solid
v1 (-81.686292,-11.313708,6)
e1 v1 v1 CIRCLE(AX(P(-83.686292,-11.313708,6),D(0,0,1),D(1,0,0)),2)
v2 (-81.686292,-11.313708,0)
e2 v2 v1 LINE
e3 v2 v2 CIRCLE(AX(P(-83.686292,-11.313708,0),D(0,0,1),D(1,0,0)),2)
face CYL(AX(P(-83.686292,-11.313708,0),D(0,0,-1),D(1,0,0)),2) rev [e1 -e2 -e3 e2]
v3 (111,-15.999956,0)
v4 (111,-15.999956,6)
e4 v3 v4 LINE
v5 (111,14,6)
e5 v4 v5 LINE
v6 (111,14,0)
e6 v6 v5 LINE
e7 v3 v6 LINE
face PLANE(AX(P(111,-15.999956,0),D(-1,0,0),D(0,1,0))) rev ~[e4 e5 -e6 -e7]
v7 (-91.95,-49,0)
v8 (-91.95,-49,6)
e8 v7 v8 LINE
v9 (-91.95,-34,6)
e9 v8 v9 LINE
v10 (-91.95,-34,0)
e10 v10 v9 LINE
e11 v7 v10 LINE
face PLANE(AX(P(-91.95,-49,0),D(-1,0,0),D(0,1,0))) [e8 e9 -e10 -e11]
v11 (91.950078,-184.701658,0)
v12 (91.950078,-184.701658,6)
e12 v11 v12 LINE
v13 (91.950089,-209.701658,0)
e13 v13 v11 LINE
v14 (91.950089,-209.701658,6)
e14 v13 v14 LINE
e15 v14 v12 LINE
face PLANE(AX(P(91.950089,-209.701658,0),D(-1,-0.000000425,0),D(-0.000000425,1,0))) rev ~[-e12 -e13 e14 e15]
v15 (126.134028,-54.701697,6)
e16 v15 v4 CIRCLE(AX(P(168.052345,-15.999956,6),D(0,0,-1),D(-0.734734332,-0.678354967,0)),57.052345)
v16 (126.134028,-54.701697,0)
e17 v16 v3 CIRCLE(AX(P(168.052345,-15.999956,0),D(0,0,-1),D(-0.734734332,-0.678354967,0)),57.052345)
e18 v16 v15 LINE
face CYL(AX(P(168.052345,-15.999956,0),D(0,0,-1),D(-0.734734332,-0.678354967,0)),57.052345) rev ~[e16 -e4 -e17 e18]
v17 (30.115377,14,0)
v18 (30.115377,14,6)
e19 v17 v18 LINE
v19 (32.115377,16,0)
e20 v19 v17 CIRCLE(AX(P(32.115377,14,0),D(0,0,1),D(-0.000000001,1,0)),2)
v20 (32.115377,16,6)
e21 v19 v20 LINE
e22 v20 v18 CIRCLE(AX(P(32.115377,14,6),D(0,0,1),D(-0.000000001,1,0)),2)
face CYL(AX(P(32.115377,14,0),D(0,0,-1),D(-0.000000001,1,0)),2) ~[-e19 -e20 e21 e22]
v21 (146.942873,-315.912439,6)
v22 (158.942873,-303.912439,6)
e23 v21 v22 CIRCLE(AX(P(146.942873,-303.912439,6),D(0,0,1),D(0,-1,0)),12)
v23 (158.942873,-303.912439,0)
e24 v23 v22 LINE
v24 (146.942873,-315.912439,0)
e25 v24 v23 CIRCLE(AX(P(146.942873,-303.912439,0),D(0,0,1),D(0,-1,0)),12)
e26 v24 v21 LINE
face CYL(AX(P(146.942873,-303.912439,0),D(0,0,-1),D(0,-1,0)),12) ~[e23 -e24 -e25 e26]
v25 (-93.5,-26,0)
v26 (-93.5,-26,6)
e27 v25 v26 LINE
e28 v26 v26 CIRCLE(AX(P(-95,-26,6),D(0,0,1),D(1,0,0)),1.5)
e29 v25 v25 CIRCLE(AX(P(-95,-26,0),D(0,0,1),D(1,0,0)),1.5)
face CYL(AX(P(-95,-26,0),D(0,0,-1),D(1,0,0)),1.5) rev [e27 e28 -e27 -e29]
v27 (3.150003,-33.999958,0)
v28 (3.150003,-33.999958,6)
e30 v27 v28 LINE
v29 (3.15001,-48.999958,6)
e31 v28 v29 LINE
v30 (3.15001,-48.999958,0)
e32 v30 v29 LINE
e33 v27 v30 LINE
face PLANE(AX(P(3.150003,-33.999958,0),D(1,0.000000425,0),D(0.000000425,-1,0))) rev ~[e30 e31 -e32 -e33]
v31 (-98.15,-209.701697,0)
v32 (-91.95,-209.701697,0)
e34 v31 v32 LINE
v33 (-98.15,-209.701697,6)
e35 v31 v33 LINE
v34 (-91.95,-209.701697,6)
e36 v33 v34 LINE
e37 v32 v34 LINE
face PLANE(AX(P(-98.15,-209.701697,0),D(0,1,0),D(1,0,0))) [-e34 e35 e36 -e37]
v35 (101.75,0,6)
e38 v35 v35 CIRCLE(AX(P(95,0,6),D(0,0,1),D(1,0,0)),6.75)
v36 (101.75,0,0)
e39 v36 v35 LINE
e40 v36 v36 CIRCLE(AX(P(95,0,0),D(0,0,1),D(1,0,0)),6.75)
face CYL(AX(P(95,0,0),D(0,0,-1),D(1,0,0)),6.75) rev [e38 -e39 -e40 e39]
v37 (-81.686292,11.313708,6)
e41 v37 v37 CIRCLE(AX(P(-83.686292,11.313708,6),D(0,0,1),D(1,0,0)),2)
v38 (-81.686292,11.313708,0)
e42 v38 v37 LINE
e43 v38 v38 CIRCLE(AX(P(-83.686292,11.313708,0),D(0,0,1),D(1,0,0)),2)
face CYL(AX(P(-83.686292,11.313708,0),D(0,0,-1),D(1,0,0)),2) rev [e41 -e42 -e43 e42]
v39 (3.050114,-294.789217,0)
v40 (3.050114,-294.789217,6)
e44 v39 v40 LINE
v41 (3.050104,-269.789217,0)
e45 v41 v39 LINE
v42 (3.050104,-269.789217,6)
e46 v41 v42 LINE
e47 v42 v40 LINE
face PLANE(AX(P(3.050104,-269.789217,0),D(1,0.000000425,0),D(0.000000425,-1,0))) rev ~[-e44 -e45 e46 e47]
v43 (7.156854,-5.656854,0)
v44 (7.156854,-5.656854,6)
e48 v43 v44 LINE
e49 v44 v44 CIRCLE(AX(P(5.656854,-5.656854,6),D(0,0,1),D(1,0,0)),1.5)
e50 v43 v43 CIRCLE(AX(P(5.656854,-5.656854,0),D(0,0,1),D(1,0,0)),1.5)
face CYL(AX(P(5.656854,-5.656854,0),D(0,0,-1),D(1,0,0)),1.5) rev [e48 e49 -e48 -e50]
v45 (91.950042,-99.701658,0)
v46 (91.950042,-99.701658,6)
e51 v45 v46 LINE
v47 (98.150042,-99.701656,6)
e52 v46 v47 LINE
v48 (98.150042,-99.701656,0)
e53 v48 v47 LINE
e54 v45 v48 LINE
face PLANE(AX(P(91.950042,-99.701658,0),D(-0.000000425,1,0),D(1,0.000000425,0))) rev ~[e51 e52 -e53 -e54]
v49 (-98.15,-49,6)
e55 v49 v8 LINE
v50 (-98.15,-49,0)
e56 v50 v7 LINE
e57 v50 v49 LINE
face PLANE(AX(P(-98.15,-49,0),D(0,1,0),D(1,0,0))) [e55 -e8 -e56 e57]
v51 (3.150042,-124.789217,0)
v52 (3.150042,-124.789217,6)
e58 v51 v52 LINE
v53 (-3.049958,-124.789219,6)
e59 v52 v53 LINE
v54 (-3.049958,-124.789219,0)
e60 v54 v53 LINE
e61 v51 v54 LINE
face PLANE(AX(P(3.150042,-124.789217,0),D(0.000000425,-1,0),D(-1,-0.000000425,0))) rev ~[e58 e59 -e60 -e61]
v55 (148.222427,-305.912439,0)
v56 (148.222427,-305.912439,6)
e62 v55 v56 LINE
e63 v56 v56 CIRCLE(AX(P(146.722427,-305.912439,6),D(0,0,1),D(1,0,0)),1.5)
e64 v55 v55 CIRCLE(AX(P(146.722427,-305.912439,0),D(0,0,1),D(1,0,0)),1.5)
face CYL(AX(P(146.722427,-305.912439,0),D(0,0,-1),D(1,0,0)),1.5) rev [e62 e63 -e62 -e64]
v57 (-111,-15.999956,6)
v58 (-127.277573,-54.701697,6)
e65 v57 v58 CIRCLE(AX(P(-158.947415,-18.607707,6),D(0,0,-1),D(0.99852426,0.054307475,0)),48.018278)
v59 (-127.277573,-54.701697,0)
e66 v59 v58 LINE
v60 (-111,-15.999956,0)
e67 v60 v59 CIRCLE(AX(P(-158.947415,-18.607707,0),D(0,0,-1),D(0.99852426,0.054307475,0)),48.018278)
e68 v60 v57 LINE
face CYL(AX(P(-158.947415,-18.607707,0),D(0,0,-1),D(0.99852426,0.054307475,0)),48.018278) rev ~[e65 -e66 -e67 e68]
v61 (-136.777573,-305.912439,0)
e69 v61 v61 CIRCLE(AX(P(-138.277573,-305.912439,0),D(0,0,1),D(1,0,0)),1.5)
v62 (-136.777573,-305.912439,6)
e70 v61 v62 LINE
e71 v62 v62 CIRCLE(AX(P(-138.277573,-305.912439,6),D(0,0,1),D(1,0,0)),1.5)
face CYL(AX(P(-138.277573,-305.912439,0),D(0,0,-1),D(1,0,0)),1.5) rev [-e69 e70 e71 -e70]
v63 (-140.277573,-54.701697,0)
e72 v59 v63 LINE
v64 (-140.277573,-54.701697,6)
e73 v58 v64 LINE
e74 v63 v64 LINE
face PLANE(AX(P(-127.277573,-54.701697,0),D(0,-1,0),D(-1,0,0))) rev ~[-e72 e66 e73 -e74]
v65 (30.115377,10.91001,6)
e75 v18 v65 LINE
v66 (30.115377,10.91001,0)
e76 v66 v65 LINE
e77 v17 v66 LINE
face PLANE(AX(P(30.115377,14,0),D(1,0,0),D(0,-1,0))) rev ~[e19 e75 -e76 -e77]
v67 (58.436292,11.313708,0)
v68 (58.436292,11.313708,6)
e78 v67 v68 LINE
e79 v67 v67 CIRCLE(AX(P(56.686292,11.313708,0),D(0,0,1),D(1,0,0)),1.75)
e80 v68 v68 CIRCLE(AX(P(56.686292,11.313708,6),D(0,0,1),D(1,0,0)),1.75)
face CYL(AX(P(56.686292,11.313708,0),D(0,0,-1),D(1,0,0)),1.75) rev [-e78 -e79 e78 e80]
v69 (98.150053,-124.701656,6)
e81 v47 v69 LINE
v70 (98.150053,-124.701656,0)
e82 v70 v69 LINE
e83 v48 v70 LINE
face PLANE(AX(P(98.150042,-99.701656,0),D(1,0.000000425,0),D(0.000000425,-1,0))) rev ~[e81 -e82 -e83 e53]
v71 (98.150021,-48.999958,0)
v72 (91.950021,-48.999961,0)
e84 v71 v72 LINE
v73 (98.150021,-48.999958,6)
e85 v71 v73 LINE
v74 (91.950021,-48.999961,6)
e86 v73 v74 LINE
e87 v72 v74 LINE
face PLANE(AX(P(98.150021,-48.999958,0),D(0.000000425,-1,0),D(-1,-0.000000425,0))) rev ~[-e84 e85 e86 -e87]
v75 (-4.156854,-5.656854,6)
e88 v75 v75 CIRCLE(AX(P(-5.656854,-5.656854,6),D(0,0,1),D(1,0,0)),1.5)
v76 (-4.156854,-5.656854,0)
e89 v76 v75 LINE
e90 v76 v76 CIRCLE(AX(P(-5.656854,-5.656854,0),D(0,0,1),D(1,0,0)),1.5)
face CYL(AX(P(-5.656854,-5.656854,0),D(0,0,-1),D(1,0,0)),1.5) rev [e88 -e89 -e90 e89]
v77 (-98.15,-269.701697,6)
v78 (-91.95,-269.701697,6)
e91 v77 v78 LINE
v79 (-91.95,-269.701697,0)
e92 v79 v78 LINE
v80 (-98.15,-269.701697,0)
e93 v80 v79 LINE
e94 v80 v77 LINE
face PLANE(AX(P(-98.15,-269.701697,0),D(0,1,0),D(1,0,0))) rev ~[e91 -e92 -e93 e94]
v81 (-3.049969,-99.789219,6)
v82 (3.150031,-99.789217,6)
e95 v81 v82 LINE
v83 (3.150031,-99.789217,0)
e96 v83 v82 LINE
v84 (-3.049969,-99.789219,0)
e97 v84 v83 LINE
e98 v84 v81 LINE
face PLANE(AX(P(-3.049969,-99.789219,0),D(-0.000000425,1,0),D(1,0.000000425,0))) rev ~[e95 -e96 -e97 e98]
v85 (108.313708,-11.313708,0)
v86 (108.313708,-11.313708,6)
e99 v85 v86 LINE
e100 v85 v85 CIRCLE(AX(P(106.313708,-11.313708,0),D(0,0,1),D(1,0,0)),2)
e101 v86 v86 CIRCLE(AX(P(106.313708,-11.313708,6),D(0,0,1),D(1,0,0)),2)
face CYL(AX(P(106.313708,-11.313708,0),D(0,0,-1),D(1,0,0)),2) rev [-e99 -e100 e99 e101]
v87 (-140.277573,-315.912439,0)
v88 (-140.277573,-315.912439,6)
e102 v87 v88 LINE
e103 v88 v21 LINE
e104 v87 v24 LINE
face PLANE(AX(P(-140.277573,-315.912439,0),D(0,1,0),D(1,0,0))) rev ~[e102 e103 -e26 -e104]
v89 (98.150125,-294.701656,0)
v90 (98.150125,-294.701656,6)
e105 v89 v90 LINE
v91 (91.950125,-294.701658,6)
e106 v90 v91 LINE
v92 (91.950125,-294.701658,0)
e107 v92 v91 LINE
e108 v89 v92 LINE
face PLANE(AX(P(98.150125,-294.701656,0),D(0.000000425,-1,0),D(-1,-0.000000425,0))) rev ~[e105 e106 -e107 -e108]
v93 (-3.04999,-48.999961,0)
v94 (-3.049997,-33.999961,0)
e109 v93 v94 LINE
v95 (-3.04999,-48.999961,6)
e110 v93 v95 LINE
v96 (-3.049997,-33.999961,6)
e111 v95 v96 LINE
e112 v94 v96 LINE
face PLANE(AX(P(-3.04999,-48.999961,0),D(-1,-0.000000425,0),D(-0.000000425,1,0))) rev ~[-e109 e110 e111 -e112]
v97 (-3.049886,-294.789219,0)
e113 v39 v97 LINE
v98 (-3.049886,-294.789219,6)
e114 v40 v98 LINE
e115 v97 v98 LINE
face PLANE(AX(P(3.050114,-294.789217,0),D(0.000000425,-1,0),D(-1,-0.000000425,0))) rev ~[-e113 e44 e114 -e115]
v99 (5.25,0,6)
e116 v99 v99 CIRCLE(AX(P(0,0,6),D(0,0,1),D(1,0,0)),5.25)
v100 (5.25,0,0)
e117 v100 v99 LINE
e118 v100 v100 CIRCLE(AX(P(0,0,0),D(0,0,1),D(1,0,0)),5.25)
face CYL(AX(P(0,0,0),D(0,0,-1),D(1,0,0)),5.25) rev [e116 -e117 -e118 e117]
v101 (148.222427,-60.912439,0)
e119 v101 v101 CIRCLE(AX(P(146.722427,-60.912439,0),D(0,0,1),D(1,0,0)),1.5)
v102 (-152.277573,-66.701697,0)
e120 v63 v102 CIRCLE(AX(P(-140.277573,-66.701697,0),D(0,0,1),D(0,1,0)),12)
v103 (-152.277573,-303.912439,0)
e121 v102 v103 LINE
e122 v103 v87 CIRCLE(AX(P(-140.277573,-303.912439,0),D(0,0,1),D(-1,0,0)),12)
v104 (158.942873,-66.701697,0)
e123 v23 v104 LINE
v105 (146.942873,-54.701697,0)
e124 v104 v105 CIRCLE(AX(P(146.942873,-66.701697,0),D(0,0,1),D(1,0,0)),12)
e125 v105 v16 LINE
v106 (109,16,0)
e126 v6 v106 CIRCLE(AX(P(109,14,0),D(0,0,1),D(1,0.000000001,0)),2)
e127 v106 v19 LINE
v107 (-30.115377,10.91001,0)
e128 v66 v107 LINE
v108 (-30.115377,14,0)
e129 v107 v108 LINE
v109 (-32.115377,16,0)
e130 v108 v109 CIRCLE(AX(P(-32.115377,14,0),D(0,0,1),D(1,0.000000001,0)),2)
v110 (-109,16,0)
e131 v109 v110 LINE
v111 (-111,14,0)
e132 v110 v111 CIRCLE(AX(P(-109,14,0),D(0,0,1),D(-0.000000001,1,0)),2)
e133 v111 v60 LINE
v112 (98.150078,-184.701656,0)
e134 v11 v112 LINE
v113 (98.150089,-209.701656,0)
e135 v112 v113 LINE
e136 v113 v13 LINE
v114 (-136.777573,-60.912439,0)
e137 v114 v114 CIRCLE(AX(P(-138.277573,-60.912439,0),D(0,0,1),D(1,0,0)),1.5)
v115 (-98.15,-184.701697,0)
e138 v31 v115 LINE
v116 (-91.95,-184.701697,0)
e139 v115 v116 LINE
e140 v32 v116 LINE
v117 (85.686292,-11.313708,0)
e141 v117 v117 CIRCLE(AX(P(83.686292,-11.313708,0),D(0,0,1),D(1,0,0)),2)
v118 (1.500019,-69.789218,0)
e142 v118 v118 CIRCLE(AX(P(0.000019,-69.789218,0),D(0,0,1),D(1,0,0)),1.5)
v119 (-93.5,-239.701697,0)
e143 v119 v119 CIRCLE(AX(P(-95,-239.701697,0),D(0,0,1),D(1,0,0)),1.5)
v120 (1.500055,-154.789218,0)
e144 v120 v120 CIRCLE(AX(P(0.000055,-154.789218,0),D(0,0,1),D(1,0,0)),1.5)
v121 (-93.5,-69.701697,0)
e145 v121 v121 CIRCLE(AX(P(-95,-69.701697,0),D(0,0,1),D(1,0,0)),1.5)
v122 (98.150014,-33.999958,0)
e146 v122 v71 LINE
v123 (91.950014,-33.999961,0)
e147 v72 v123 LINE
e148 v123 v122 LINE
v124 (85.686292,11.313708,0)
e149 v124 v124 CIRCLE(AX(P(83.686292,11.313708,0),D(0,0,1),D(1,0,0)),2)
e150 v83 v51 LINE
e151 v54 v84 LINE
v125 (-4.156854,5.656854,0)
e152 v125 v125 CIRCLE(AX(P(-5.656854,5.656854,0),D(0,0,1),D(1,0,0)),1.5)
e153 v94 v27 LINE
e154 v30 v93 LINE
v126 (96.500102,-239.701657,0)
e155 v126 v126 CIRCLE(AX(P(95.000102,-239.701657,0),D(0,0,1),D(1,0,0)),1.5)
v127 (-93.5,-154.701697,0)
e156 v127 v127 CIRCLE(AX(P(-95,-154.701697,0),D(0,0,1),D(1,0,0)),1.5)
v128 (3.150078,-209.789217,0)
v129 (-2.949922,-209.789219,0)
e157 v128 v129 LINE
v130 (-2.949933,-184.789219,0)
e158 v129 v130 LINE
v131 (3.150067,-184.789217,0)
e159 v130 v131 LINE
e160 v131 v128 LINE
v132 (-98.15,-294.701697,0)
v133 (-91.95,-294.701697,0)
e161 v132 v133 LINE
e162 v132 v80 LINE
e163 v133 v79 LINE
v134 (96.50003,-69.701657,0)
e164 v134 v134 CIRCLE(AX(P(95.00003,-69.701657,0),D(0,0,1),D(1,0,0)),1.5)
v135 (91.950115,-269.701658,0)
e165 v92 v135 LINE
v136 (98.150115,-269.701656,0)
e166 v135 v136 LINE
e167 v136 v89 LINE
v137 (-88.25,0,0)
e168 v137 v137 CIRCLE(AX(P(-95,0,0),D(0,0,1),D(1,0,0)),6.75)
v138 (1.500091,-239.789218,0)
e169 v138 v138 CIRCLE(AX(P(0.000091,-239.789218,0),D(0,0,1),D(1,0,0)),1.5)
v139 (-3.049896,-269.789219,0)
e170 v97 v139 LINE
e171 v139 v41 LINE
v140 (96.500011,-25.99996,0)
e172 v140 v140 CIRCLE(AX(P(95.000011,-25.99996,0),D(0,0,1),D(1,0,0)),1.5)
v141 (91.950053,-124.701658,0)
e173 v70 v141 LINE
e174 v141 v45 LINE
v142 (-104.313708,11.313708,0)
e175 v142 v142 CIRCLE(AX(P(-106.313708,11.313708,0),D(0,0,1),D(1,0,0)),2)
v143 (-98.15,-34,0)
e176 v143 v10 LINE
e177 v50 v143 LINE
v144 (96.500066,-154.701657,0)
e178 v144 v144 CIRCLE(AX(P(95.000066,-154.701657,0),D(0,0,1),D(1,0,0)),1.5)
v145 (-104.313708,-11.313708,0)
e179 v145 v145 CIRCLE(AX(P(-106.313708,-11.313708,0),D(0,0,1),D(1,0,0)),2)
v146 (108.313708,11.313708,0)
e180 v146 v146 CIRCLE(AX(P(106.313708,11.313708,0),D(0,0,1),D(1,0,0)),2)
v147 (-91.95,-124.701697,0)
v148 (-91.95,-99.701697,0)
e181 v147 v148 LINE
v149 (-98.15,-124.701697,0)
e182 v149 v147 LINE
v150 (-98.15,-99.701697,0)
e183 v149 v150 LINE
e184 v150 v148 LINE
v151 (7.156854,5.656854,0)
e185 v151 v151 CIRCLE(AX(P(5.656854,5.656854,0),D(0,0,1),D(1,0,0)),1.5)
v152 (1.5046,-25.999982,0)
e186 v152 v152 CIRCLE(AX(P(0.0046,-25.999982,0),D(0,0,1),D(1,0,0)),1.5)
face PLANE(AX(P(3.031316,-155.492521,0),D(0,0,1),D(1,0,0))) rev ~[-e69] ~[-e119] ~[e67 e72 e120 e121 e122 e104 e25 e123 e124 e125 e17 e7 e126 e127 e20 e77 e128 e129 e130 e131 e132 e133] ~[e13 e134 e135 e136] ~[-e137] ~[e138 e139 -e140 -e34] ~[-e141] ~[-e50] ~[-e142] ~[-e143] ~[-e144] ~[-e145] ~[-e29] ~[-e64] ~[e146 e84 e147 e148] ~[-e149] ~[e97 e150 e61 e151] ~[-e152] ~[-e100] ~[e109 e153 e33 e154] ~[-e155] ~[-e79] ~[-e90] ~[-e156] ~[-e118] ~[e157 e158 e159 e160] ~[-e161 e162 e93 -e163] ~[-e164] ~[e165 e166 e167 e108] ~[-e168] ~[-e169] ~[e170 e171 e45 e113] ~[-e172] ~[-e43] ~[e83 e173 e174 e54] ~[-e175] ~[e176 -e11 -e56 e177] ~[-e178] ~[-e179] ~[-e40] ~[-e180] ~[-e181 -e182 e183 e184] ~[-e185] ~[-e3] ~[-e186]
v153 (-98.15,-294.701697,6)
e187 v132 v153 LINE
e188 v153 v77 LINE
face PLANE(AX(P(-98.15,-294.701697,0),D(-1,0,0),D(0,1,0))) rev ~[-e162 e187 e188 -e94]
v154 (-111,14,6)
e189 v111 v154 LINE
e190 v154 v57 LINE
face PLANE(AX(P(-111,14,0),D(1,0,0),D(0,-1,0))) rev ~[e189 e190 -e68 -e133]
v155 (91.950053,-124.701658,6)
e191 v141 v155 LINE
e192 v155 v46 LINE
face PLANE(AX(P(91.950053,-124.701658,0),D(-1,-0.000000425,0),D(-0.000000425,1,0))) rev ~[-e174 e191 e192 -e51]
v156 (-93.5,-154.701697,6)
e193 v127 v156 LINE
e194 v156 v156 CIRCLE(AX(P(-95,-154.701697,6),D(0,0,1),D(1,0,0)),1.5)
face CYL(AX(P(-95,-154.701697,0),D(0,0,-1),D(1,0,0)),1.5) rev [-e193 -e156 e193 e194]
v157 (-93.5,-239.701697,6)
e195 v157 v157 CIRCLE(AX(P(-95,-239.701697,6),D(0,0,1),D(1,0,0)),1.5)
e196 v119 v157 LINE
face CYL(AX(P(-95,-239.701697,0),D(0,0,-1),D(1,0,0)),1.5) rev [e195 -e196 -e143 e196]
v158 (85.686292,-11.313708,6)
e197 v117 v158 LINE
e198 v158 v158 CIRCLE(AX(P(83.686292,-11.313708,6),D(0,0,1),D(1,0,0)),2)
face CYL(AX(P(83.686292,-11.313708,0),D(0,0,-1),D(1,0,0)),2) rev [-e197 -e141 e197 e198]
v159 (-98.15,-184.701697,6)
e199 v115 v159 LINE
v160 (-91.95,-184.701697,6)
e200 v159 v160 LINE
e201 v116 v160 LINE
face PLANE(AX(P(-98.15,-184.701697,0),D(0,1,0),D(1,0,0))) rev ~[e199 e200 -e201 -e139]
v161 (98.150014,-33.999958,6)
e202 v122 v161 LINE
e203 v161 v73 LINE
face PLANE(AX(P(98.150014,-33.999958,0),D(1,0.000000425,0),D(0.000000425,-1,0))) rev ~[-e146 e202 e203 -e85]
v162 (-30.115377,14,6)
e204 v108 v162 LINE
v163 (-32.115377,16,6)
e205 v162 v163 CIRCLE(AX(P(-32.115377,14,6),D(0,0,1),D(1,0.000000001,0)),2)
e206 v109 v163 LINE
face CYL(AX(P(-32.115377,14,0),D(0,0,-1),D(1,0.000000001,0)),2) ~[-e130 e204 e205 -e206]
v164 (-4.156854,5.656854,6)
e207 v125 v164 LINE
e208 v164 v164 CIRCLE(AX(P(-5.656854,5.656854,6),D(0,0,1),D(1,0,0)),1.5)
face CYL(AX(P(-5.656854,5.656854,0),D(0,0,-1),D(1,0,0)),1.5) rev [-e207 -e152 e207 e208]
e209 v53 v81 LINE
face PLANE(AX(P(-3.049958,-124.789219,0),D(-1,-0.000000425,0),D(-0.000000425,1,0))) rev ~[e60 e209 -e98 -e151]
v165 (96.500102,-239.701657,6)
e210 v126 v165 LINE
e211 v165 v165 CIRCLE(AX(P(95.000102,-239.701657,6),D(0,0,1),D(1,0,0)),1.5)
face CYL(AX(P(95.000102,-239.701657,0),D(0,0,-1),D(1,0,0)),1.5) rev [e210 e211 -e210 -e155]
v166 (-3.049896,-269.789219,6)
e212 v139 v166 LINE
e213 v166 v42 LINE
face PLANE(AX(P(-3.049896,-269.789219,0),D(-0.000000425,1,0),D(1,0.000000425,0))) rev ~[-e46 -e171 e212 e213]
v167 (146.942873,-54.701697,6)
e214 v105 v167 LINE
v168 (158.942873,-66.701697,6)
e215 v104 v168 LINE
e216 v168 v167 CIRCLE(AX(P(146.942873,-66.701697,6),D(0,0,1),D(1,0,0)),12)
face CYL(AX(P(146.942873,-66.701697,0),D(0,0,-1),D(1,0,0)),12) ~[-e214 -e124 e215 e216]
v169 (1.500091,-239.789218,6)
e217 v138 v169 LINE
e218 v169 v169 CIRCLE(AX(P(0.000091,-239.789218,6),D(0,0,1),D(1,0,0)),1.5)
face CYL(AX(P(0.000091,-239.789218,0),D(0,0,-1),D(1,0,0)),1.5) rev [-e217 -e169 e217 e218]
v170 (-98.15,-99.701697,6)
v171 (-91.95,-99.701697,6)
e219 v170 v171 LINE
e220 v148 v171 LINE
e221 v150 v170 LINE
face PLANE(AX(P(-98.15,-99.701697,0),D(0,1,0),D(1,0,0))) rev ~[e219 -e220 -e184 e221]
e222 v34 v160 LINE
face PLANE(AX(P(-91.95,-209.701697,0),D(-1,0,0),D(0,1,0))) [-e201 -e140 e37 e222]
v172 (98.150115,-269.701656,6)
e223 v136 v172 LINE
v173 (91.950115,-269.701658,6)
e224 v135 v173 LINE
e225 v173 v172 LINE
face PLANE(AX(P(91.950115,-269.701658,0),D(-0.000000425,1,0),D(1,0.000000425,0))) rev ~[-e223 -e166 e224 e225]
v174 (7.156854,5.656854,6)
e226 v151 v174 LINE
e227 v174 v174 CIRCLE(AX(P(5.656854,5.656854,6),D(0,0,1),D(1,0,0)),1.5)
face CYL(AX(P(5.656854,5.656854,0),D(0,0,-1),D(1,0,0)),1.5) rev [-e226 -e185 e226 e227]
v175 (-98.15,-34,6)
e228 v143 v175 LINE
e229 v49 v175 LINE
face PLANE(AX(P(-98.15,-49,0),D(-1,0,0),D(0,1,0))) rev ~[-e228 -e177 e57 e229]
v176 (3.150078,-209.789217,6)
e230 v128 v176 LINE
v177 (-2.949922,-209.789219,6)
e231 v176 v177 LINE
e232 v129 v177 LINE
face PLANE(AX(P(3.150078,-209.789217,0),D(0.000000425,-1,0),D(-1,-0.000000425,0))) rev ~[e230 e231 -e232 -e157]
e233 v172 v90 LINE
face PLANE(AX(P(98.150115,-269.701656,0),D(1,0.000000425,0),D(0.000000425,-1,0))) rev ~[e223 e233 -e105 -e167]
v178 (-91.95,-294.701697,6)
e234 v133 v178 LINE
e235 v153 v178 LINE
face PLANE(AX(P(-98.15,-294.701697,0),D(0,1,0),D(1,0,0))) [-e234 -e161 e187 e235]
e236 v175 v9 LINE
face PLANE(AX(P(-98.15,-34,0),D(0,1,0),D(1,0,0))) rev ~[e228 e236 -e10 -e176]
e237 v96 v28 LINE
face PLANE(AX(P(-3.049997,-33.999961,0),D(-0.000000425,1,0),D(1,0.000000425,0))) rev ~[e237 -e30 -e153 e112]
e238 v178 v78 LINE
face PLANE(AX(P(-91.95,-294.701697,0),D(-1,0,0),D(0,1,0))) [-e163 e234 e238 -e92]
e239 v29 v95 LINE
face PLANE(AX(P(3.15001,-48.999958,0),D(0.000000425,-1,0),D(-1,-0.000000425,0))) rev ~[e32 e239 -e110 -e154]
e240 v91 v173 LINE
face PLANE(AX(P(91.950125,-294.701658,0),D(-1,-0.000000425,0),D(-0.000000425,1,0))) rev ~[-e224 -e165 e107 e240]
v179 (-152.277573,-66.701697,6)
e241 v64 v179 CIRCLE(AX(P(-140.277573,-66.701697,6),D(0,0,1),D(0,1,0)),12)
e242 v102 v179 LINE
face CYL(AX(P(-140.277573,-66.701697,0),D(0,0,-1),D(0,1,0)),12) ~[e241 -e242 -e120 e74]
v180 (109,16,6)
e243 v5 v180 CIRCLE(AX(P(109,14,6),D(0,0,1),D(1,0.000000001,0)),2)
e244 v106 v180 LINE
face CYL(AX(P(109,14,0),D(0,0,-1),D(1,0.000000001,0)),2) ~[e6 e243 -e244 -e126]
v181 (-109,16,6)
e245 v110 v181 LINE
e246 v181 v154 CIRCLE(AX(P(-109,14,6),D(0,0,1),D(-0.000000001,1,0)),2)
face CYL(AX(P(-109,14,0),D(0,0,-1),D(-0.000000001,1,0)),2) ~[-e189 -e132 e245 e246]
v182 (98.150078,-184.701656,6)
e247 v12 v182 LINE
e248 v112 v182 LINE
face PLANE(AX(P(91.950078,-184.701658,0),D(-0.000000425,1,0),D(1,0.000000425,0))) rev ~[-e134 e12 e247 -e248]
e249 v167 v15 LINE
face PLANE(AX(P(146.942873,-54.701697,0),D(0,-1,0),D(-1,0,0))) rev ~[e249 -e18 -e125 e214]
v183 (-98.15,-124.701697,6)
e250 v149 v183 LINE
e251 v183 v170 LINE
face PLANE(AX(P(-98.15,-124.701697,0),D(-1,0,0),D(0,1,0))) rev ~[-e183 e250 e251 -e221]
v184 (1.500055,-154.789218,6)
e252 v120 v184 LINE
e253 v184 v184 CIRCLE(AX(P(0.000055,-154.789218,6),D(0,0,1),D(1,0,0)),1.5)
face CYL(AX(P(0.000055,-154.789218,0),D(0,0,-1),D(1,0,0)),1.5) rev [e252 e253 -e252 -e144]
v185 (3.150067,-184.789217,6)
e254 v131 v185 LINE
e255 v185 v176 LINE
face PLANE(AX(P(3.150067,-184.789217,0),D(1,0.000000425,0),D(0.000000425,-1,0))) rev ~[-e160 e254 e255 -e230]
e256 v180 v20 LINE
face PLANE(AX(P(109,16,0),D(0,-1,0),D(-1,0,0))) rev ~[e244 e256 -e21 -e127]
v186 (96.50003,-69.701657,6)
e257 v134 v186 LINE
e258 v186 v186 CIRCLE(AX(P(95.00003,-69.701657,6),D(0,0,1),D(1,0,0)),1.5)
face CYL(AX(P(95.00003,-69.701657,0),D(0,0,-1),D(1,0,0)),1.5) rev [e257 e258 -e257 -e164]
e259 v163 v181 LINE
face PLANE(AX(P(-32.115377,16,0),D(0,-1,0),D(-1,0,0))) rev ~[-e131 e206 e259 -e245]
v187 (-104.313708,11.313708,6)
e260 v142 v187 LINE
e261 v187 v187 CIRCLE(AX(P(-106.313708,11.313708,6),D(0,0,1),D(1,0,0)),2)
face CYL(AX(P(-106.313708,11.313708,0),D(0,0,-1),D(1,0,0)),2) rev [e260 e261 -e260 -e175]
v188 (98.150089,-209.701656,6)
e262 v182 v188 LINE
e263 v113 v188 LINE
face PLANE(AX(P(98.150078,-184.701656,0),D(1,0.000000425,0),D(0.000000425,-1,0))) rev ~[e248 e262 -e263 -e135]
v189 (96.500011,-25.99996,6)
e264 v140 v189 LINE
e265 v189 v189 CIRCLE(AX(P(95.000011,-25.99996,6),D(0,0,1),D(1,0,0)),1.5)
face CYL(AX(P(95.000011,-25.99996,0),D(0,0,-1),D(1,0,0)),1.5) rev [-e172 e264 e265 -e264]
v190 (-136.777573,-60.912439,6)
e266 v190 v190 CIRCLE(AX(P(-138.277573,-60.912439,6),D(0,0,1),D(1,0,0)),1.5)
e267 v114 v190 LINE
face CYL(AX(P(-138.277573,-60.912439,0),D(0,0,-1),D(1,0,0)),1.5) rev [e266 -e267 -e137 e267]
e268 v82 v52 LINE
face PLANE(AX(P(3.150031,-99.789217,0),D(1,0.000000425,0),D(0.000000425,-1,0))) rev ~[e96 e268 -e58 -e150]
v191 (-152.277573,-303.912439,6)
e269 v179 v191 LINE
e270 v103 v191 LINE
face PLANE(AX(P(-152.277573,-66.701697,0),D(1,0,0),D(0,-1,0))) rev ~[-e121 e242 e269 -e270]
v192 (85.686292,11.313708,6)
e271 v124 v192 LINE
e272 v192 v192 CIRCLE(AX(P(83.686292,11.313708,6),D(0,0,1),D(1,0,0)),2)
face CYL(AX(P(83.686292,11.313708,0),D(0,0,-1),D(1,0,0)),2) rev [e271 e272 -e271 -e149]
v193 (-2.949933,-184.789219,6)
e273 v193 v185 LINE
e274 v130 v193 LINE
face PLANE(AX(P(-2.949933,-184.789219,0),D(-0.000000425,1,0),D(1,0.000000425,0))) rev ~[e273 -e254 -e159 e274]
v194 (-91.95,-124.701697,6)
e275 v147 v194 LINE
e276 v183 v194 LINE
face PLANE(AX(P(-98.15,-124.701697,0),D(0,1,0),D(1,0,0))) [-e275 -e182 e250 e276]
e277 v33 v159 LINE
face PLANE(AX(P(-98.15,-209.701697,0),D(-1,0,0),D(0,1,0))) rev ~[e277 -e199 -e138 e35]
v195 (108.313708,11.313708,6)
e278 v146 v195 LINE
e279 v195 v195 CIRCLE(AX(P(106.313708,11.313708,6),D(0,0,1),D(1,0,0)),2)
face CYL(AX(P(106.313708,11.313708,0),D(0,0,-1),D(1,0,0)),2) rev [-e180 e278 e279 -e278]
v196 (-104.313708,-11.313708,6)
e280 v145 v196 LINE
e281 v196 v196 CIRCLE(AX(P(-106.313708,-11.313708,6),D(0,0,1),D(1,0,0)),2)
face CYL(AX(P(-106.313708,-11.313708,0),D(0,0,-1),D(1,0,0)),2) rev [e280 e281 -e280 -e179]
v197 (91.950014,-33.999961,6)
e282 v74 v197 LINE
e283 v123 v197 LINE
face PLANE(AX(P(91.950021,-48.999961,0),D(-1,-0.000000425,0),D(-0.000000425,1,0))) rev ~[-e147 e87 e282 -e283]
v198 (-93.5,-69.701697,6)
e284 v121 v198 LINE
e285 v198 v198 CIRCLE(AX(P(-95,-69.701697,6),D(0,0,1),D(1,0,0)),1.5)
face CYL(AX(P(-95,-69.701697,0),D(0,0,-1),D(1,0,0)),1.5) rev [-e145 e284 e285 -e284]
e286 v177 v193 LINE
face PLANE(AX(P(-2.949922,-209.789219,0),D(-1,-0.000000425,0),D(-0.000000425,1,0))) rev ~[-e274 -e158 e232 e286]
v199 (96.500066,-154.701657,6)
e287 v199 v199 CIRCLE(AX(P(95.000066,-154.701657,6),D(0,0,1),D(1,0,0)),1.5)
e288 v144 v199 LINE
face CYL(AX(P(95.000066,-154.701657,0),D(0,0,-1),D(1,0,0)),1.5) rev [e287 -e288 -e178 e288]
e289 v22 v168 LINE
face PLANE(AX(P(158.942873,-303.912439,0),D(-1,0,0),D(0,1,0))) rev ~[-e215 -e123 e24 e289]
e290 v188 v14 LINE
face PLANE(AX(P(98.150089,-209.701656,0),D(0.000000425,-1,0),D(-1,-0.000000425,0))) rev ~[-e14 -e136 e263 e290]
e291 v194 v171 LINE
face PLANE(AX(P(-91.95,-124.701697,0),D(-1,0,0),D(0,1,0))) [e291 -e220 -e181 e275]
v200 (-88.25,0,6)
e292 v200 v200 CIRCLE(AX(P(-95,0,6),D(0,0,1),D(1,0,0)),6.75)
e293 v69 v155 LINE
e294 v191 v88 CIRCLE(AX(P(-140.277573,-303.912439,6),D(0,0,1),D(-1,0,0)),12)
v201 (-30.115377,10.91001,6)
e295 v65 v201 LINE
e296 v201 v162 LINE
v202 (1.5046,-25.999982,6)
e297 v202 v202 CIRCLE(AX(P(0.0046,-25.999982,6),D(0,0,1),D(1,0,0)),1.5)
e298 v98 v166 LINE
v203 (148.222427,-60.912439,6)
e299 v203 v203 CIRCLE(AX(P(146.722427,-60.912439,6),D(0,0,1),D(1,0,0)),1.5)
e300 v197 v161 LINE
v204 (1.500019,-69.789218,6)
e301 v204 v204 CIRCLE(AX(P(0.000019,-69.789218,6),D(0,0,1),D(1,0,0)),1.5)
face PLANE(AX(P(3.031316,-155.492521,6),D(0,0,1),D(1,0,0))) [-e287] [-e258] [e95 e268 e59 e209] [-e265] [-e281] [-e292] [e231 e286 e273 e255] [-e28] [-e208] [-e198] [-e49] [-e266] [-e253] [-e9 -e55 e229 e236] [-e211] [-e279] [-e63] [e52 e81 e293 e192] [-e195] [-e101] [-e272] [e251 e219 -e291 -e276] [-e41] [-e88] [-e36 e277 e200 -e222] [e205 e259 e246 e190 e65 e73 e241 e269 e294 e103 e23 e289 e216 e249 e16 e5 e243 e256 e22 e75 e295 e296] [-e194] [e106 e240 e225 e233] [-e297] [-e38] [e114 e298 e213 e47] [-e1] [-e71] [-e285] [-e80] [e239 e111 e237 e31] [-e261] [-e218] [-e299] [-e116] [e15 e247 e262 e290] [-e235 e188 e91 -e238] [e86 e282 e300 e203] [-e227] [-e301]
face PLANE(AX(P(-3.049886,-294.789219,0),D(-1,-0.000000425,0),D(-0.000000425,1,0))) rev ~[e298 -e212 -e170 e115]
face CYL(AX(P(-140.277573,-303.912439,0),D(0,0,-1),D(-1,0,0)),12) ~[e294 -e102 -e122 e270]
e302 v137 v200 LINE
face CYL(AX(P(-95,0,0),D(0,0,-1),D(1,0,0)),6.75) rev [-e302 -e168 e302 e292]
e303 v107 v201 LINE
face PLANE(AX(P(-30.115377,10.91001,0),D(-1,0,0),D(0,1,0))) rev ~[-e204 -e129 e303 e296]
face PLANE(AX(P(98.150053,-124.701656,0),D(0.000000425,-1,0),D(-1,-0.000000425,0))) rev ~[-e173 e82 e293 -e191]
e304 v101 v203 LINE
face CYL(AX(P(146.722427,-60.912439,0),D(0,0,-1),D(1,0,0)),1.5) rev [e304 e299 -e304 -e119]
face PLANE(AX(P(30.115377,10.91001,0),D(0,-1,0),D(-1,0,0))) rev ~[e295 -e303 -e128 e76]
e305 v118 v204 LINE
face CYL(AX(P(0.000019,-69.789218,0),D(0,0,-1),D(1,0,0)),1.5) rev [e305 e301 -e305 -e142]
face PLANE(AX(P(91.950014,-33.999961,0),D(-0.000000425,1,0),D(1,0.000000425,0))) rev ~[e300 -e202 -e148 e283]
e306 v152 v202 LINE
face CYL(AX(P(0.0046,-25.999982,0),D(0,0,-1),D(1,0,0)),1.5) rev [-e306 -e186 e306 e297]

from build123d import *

# Parameters (mm, degrees)
CROQUIS1_R              = 1.5
CROQUIS1_W              = 6.2
CROQUIS1_H              = 25
CROQUIS1_H_2            = 15
CROQUIS1_R_2            = 2
CROQUIS1_R_3            = 6.75
CROQUIS1_R_4            = 5.25
CROQUIS1_R_5            = 1.75
SALIENTE_EXTRUIR1_DEPTH = 6


with BuildPart() as part:
    # Croquis1 → Saliente-Extruir1 (new body)
    with BuildSketch(Plane.XY):
        with BuildLine():
            Line((87.635637669, 16), (32.115377174, 16))
            ThreePointArc((32.115377174, 16), (30.701163612, 15.414213562), (30.115377174, 14))
            Line((30.115377174, 14), (30.115377174, 10.910010016))
            Line((30.115377174, 10.910010016), (-30.115377174, 10.910010016))
            Line((-30.115377174, 10.910010016), (-30.115377174, 14))
            ThreePointArc((-30.115377174, 14), (-30.701163612, 15.414213562), (-32.115377174, 16))
            Line((-32.115377174, 16), (-44.664398505, 16))
            Line((-44.664398505, 16), (-87.635637669, 16))
            Line((-87.635637669, 16), (-109, 16))
            ThreePointArc((-109, 16), (-110.414213562, 15.414213562), (-111, 14))
            Line((-111, 14), (-111, 0))
            Line((-111, 0), (-111, -15.999955929))
            ThreePointArc((-111, -15.999955929), (-114.684754838, -37.224148725), (-127.277573278, -54.701697231))
            Line((-127.277573278, -54.701697231), (-135.277573278, -54.701697231))
            Line((-135.277573278, -54.701697231), (-140.277573278, -54.701697231))
            ThreePointArc((-140.277573278, -54.701697231), (-148.762854653, -58.216415857), (-152.277573278, -66.701697231))
            Line((-152.277573278, -66.701697231), (-152.277573278, -303.912438798))
            ThreePointArc((-152.277573278, -303.912438798), (-148.762854653, -312.397720172), (-140.277573278, -315.912438798))
            Line((-140.277573278, -315.912438798), (-135.277573278, -315.912438798))
            Line((-135.277573278, -315.912438798), (-119.364295205, -315.912438798))
            Line((-119.364295205, -315.912438798), (119.364429455, -315.912438798))
            Line((119.364429455, -315.912438798), (130.295105026, -315.912438798))
            Line((130.295105026, -315.912438798), (146.942872896, -315.912438798))
            ThreePointArc((146.942872896, -315.912438798), (155.42815427, -312.397720172), (158.942872896, -303.912438798))
            Line((158.942872896, -303.912438798), (158.942872896, -70.770984471))
            Line((158.942872896, -70.770984471), (158.942872896, -66.701697231))
            ThreePointArc((158.942872896, -66.701697231), (155.42815427, -58.216415857), (146.942872896, -54.701697231))
            Line((146.942872896, -54.701697231), (126.134028278, -54.701697231))
            ThreePointArc((126.134028278, -54.701697231), (114.918041875, -36.777730062), (111, -15.999955929))
            Line((111, -15.999955929), (111, 14))
            ThreePointArc((111, 14), (110.414213562, 15.414213562), (109, 16))
            Line((109, 16), (87.635637669, 16))
        make_face()
        with Locations((-138.277573278, -305.912438798)):
            Circle(CROQUIS1_R, mode=Mode.SUBTRACT)
        with Locations((-95.05, -282.201697231)):
            Rectangle(CROQUIS1_W, CROQUIS1_H, mode=Mode.SUBTRACT)
        with Locations((-95, -239.701697231)):
            Circle(CROQUIS1_R, mode=Mode.SUBTRACT)
        Polygon((-3.049885808, -294.789219369), (-3.049896429, -269.789219369), (3.050103571, -269.789216778), (3.050114192, -294.789216778), align=None, mode=Mode.SUBTRACT)
        with Locations((9.0826e-05, -239.789218073)):
            Circle(CROQUIS1_R, mode=Mode.SUBTRACT)
        with Locations((-95.05, -197.201697231)):
            Rectangle(CROQUIS1_W, CROQUIS1_H, mode=Mode.SUBTRACT)
        with Locations((-95, -154.701697231)):
            Circle(CROQUIS1_R, mode=Mode.SUBTRACT)
        Polygon((-2.949921919, -209.789219327), (-2.94993254, -184.789219327), (3.15006746, -184.789216735), (3.150078081, -209.789216735), align=None, mode=Mode.SUBTRACT)
        with Locations((5.4715e-05, -154.789218073)):
            Circle(CROQUIS1_R, mode=Mode.SUBTRACT)
        Polygon((91.950125201, -294.701658167), (91.95011458, -269.701658167), (98.15011458, -269.701655533), (98.150125201, -294.701655533), align=None, mode=Mode.SUBTRACT)
        with Locations((146.722426722, -305.912438798)):
            Circle(CROQUIS1_R, mode=Mode.SUBTRACT)
        with Locations((95.000101835, -239.701656871)):
            Circle(CROQUIS1_R, mode=Mode.SUBTRACT)
        Polygon((91.95008909, -209.701658167), (91.950078469, -184.701658167), (98.150078469, -184.701655533), (98.15008909, -209.701655533), align=None, mode=Mode.SUBTRACT)
        with Locations((95.000065724, -154.701656871)):
            Circle(CROQUIS1_R, mode=Mode.SUBTRACT)
        with Locations((-95.05, -112.201697231)):
            Rectangle(CROQUIS1_W, CROQUIS1_H, mode=Mode.SUBTRACT)
        with Locations((-95, -69.701697231)):
            Circle(CROQUIS1_R, mode=Mode.SUBTRACT)
        Polygon((-3.04995803, -124.789219369), (-3.049968651, -99.789219369), (3.150031349, -99.789216735), (3.15004197, -124.789216735), align=None, mode=Mode.SUBTRACT)
        with Locations((1.8603e-05, -69.789218073)):
            Circle(CROQUIS1_R, mode=Mode.SUBTRACT)
        with Locations((-138.277573278, -60.912438798)):
            Circle(CROQUIS1_R, mode=Mode.SUBTRACT)
        with Locations((-95.05, -41.5)):
            Rectangle(CROQUIS1_W, CROQUIS1_H_2, mode=Mode.SUBTRACT)
        with Locations((-95, -26)):
            Circle(CROQUIS1_R, mode=Mode.SUBTRACT)
        with Locations((-106.313708499, -11.313708499)):
            Circle(CROQUIS1_R_2, mode=Mode.SUBTRACT)
        with Locations((-83.686291501, -11.313708499)):
            Circle(CROQUIS1_R_2, mode=Mode.SUBTRACT)
        with Locations((-95, 0)):
            Circle(CROQUIS1_R_3, mode=Mode.SUBTRACT)
        with Locations((-106.313708499, 11.313708499)):
            Circle(CROQUIS1_R_2, mode=Mode.SUBTRACT)
        with Locations((-83.686291501, 11.313708499)):
            Circle(CROQUIS1_R_2, mode=Mode.SUBTRACT)
        Polygon((-3.049990229, -48.999960936), (-3.049996601, -33.999960936), (3.150003399, -33.999958302), (3.150009771, -48.999958302), align=None, mode=Mode.SUBTRACT)
        with Locations((0.004600085, -25.999981675)):
            Circle(CROQUIS1_R, mode=Mode.SUBTRACT)
        with Locations((-5.656854249, -5.656854249)):
            Circle(CROQUIS1_R, mode=Mode.SUBTRACT)
        Circle(CROQUIS1_R_4, mode=Mode.SUBTRACT)
        with Locations((-5.656854249, 5.656854249)):
            Circle(CROQUIS1_R, mode=Mode.SUBTRACT)
        Polygon((91.950052978, -124.701658167), (91.950042357, -99.701658167), (98.150042357, -99.701655533), (98.150052978, -124.701655533), align=None, mode=Mode.SUBTRACT)
        with Locations((95.000029612, -69.701656871)):
            Circle(CROQUIS1_R, mode=Mode.SUBTRACT)
        with Locations((5.656854249, -5.656854249)):
            Circle(CROQUIS1_R, mode=Mode.SUBTRACT)
        with Locations((5.656854249, 5.656854249)):
            Circle(CROQUIS1_R, mode=Mode.SUBTRACT)
        with Locations((56.686291501, 11.313708499)):
            Circle(CROQUIS1_R_5, mode=Mode.SUBTRACT)
        Polygon((91.950020817, -48.999960936), (91.950014445, -33.999960936), (98.150014445, -33.999958302), (98.150020817, -48.999958302), align=None, mode=Mode.SUBTRACT)
        with Locations((95.000011046, -25.99995964)):
            Circle(CROQUIS1_R, mode=Mode.SUBTRACT)
        with Locations((146.722426722, -60.912438798)):
            Circle(CROQUIS1_R, mode=Mode.SUBTRACT)
        with Locations((83.686291501, -11.313708499)):
            Circle(CROQUIS1_R_2, mode=Mode.SUBTRACT)
        with Locations((106.313708499, -11.313708499)):
            Circle(CROQUIS1_R_2, mode=Mode.SUBTRACT)
        with Locations((95, 0)):
            Circle(CROQUIS1_R_3, mode=Mode.SUBTRACT)
        with Locations((83.686291501, 11.313708499)):
            Circle(CROQUIS1_R_2, mode=Mode.SUBTRACT)
        with Locations((106.313708499, 11.313708499)):
            Circle(CROQUIS1_R_2, mode=Mode.SUBTRACT)
    extrude(amount=SALIENTE_EXTRUIR1_DEPTH)


solid = part.part
